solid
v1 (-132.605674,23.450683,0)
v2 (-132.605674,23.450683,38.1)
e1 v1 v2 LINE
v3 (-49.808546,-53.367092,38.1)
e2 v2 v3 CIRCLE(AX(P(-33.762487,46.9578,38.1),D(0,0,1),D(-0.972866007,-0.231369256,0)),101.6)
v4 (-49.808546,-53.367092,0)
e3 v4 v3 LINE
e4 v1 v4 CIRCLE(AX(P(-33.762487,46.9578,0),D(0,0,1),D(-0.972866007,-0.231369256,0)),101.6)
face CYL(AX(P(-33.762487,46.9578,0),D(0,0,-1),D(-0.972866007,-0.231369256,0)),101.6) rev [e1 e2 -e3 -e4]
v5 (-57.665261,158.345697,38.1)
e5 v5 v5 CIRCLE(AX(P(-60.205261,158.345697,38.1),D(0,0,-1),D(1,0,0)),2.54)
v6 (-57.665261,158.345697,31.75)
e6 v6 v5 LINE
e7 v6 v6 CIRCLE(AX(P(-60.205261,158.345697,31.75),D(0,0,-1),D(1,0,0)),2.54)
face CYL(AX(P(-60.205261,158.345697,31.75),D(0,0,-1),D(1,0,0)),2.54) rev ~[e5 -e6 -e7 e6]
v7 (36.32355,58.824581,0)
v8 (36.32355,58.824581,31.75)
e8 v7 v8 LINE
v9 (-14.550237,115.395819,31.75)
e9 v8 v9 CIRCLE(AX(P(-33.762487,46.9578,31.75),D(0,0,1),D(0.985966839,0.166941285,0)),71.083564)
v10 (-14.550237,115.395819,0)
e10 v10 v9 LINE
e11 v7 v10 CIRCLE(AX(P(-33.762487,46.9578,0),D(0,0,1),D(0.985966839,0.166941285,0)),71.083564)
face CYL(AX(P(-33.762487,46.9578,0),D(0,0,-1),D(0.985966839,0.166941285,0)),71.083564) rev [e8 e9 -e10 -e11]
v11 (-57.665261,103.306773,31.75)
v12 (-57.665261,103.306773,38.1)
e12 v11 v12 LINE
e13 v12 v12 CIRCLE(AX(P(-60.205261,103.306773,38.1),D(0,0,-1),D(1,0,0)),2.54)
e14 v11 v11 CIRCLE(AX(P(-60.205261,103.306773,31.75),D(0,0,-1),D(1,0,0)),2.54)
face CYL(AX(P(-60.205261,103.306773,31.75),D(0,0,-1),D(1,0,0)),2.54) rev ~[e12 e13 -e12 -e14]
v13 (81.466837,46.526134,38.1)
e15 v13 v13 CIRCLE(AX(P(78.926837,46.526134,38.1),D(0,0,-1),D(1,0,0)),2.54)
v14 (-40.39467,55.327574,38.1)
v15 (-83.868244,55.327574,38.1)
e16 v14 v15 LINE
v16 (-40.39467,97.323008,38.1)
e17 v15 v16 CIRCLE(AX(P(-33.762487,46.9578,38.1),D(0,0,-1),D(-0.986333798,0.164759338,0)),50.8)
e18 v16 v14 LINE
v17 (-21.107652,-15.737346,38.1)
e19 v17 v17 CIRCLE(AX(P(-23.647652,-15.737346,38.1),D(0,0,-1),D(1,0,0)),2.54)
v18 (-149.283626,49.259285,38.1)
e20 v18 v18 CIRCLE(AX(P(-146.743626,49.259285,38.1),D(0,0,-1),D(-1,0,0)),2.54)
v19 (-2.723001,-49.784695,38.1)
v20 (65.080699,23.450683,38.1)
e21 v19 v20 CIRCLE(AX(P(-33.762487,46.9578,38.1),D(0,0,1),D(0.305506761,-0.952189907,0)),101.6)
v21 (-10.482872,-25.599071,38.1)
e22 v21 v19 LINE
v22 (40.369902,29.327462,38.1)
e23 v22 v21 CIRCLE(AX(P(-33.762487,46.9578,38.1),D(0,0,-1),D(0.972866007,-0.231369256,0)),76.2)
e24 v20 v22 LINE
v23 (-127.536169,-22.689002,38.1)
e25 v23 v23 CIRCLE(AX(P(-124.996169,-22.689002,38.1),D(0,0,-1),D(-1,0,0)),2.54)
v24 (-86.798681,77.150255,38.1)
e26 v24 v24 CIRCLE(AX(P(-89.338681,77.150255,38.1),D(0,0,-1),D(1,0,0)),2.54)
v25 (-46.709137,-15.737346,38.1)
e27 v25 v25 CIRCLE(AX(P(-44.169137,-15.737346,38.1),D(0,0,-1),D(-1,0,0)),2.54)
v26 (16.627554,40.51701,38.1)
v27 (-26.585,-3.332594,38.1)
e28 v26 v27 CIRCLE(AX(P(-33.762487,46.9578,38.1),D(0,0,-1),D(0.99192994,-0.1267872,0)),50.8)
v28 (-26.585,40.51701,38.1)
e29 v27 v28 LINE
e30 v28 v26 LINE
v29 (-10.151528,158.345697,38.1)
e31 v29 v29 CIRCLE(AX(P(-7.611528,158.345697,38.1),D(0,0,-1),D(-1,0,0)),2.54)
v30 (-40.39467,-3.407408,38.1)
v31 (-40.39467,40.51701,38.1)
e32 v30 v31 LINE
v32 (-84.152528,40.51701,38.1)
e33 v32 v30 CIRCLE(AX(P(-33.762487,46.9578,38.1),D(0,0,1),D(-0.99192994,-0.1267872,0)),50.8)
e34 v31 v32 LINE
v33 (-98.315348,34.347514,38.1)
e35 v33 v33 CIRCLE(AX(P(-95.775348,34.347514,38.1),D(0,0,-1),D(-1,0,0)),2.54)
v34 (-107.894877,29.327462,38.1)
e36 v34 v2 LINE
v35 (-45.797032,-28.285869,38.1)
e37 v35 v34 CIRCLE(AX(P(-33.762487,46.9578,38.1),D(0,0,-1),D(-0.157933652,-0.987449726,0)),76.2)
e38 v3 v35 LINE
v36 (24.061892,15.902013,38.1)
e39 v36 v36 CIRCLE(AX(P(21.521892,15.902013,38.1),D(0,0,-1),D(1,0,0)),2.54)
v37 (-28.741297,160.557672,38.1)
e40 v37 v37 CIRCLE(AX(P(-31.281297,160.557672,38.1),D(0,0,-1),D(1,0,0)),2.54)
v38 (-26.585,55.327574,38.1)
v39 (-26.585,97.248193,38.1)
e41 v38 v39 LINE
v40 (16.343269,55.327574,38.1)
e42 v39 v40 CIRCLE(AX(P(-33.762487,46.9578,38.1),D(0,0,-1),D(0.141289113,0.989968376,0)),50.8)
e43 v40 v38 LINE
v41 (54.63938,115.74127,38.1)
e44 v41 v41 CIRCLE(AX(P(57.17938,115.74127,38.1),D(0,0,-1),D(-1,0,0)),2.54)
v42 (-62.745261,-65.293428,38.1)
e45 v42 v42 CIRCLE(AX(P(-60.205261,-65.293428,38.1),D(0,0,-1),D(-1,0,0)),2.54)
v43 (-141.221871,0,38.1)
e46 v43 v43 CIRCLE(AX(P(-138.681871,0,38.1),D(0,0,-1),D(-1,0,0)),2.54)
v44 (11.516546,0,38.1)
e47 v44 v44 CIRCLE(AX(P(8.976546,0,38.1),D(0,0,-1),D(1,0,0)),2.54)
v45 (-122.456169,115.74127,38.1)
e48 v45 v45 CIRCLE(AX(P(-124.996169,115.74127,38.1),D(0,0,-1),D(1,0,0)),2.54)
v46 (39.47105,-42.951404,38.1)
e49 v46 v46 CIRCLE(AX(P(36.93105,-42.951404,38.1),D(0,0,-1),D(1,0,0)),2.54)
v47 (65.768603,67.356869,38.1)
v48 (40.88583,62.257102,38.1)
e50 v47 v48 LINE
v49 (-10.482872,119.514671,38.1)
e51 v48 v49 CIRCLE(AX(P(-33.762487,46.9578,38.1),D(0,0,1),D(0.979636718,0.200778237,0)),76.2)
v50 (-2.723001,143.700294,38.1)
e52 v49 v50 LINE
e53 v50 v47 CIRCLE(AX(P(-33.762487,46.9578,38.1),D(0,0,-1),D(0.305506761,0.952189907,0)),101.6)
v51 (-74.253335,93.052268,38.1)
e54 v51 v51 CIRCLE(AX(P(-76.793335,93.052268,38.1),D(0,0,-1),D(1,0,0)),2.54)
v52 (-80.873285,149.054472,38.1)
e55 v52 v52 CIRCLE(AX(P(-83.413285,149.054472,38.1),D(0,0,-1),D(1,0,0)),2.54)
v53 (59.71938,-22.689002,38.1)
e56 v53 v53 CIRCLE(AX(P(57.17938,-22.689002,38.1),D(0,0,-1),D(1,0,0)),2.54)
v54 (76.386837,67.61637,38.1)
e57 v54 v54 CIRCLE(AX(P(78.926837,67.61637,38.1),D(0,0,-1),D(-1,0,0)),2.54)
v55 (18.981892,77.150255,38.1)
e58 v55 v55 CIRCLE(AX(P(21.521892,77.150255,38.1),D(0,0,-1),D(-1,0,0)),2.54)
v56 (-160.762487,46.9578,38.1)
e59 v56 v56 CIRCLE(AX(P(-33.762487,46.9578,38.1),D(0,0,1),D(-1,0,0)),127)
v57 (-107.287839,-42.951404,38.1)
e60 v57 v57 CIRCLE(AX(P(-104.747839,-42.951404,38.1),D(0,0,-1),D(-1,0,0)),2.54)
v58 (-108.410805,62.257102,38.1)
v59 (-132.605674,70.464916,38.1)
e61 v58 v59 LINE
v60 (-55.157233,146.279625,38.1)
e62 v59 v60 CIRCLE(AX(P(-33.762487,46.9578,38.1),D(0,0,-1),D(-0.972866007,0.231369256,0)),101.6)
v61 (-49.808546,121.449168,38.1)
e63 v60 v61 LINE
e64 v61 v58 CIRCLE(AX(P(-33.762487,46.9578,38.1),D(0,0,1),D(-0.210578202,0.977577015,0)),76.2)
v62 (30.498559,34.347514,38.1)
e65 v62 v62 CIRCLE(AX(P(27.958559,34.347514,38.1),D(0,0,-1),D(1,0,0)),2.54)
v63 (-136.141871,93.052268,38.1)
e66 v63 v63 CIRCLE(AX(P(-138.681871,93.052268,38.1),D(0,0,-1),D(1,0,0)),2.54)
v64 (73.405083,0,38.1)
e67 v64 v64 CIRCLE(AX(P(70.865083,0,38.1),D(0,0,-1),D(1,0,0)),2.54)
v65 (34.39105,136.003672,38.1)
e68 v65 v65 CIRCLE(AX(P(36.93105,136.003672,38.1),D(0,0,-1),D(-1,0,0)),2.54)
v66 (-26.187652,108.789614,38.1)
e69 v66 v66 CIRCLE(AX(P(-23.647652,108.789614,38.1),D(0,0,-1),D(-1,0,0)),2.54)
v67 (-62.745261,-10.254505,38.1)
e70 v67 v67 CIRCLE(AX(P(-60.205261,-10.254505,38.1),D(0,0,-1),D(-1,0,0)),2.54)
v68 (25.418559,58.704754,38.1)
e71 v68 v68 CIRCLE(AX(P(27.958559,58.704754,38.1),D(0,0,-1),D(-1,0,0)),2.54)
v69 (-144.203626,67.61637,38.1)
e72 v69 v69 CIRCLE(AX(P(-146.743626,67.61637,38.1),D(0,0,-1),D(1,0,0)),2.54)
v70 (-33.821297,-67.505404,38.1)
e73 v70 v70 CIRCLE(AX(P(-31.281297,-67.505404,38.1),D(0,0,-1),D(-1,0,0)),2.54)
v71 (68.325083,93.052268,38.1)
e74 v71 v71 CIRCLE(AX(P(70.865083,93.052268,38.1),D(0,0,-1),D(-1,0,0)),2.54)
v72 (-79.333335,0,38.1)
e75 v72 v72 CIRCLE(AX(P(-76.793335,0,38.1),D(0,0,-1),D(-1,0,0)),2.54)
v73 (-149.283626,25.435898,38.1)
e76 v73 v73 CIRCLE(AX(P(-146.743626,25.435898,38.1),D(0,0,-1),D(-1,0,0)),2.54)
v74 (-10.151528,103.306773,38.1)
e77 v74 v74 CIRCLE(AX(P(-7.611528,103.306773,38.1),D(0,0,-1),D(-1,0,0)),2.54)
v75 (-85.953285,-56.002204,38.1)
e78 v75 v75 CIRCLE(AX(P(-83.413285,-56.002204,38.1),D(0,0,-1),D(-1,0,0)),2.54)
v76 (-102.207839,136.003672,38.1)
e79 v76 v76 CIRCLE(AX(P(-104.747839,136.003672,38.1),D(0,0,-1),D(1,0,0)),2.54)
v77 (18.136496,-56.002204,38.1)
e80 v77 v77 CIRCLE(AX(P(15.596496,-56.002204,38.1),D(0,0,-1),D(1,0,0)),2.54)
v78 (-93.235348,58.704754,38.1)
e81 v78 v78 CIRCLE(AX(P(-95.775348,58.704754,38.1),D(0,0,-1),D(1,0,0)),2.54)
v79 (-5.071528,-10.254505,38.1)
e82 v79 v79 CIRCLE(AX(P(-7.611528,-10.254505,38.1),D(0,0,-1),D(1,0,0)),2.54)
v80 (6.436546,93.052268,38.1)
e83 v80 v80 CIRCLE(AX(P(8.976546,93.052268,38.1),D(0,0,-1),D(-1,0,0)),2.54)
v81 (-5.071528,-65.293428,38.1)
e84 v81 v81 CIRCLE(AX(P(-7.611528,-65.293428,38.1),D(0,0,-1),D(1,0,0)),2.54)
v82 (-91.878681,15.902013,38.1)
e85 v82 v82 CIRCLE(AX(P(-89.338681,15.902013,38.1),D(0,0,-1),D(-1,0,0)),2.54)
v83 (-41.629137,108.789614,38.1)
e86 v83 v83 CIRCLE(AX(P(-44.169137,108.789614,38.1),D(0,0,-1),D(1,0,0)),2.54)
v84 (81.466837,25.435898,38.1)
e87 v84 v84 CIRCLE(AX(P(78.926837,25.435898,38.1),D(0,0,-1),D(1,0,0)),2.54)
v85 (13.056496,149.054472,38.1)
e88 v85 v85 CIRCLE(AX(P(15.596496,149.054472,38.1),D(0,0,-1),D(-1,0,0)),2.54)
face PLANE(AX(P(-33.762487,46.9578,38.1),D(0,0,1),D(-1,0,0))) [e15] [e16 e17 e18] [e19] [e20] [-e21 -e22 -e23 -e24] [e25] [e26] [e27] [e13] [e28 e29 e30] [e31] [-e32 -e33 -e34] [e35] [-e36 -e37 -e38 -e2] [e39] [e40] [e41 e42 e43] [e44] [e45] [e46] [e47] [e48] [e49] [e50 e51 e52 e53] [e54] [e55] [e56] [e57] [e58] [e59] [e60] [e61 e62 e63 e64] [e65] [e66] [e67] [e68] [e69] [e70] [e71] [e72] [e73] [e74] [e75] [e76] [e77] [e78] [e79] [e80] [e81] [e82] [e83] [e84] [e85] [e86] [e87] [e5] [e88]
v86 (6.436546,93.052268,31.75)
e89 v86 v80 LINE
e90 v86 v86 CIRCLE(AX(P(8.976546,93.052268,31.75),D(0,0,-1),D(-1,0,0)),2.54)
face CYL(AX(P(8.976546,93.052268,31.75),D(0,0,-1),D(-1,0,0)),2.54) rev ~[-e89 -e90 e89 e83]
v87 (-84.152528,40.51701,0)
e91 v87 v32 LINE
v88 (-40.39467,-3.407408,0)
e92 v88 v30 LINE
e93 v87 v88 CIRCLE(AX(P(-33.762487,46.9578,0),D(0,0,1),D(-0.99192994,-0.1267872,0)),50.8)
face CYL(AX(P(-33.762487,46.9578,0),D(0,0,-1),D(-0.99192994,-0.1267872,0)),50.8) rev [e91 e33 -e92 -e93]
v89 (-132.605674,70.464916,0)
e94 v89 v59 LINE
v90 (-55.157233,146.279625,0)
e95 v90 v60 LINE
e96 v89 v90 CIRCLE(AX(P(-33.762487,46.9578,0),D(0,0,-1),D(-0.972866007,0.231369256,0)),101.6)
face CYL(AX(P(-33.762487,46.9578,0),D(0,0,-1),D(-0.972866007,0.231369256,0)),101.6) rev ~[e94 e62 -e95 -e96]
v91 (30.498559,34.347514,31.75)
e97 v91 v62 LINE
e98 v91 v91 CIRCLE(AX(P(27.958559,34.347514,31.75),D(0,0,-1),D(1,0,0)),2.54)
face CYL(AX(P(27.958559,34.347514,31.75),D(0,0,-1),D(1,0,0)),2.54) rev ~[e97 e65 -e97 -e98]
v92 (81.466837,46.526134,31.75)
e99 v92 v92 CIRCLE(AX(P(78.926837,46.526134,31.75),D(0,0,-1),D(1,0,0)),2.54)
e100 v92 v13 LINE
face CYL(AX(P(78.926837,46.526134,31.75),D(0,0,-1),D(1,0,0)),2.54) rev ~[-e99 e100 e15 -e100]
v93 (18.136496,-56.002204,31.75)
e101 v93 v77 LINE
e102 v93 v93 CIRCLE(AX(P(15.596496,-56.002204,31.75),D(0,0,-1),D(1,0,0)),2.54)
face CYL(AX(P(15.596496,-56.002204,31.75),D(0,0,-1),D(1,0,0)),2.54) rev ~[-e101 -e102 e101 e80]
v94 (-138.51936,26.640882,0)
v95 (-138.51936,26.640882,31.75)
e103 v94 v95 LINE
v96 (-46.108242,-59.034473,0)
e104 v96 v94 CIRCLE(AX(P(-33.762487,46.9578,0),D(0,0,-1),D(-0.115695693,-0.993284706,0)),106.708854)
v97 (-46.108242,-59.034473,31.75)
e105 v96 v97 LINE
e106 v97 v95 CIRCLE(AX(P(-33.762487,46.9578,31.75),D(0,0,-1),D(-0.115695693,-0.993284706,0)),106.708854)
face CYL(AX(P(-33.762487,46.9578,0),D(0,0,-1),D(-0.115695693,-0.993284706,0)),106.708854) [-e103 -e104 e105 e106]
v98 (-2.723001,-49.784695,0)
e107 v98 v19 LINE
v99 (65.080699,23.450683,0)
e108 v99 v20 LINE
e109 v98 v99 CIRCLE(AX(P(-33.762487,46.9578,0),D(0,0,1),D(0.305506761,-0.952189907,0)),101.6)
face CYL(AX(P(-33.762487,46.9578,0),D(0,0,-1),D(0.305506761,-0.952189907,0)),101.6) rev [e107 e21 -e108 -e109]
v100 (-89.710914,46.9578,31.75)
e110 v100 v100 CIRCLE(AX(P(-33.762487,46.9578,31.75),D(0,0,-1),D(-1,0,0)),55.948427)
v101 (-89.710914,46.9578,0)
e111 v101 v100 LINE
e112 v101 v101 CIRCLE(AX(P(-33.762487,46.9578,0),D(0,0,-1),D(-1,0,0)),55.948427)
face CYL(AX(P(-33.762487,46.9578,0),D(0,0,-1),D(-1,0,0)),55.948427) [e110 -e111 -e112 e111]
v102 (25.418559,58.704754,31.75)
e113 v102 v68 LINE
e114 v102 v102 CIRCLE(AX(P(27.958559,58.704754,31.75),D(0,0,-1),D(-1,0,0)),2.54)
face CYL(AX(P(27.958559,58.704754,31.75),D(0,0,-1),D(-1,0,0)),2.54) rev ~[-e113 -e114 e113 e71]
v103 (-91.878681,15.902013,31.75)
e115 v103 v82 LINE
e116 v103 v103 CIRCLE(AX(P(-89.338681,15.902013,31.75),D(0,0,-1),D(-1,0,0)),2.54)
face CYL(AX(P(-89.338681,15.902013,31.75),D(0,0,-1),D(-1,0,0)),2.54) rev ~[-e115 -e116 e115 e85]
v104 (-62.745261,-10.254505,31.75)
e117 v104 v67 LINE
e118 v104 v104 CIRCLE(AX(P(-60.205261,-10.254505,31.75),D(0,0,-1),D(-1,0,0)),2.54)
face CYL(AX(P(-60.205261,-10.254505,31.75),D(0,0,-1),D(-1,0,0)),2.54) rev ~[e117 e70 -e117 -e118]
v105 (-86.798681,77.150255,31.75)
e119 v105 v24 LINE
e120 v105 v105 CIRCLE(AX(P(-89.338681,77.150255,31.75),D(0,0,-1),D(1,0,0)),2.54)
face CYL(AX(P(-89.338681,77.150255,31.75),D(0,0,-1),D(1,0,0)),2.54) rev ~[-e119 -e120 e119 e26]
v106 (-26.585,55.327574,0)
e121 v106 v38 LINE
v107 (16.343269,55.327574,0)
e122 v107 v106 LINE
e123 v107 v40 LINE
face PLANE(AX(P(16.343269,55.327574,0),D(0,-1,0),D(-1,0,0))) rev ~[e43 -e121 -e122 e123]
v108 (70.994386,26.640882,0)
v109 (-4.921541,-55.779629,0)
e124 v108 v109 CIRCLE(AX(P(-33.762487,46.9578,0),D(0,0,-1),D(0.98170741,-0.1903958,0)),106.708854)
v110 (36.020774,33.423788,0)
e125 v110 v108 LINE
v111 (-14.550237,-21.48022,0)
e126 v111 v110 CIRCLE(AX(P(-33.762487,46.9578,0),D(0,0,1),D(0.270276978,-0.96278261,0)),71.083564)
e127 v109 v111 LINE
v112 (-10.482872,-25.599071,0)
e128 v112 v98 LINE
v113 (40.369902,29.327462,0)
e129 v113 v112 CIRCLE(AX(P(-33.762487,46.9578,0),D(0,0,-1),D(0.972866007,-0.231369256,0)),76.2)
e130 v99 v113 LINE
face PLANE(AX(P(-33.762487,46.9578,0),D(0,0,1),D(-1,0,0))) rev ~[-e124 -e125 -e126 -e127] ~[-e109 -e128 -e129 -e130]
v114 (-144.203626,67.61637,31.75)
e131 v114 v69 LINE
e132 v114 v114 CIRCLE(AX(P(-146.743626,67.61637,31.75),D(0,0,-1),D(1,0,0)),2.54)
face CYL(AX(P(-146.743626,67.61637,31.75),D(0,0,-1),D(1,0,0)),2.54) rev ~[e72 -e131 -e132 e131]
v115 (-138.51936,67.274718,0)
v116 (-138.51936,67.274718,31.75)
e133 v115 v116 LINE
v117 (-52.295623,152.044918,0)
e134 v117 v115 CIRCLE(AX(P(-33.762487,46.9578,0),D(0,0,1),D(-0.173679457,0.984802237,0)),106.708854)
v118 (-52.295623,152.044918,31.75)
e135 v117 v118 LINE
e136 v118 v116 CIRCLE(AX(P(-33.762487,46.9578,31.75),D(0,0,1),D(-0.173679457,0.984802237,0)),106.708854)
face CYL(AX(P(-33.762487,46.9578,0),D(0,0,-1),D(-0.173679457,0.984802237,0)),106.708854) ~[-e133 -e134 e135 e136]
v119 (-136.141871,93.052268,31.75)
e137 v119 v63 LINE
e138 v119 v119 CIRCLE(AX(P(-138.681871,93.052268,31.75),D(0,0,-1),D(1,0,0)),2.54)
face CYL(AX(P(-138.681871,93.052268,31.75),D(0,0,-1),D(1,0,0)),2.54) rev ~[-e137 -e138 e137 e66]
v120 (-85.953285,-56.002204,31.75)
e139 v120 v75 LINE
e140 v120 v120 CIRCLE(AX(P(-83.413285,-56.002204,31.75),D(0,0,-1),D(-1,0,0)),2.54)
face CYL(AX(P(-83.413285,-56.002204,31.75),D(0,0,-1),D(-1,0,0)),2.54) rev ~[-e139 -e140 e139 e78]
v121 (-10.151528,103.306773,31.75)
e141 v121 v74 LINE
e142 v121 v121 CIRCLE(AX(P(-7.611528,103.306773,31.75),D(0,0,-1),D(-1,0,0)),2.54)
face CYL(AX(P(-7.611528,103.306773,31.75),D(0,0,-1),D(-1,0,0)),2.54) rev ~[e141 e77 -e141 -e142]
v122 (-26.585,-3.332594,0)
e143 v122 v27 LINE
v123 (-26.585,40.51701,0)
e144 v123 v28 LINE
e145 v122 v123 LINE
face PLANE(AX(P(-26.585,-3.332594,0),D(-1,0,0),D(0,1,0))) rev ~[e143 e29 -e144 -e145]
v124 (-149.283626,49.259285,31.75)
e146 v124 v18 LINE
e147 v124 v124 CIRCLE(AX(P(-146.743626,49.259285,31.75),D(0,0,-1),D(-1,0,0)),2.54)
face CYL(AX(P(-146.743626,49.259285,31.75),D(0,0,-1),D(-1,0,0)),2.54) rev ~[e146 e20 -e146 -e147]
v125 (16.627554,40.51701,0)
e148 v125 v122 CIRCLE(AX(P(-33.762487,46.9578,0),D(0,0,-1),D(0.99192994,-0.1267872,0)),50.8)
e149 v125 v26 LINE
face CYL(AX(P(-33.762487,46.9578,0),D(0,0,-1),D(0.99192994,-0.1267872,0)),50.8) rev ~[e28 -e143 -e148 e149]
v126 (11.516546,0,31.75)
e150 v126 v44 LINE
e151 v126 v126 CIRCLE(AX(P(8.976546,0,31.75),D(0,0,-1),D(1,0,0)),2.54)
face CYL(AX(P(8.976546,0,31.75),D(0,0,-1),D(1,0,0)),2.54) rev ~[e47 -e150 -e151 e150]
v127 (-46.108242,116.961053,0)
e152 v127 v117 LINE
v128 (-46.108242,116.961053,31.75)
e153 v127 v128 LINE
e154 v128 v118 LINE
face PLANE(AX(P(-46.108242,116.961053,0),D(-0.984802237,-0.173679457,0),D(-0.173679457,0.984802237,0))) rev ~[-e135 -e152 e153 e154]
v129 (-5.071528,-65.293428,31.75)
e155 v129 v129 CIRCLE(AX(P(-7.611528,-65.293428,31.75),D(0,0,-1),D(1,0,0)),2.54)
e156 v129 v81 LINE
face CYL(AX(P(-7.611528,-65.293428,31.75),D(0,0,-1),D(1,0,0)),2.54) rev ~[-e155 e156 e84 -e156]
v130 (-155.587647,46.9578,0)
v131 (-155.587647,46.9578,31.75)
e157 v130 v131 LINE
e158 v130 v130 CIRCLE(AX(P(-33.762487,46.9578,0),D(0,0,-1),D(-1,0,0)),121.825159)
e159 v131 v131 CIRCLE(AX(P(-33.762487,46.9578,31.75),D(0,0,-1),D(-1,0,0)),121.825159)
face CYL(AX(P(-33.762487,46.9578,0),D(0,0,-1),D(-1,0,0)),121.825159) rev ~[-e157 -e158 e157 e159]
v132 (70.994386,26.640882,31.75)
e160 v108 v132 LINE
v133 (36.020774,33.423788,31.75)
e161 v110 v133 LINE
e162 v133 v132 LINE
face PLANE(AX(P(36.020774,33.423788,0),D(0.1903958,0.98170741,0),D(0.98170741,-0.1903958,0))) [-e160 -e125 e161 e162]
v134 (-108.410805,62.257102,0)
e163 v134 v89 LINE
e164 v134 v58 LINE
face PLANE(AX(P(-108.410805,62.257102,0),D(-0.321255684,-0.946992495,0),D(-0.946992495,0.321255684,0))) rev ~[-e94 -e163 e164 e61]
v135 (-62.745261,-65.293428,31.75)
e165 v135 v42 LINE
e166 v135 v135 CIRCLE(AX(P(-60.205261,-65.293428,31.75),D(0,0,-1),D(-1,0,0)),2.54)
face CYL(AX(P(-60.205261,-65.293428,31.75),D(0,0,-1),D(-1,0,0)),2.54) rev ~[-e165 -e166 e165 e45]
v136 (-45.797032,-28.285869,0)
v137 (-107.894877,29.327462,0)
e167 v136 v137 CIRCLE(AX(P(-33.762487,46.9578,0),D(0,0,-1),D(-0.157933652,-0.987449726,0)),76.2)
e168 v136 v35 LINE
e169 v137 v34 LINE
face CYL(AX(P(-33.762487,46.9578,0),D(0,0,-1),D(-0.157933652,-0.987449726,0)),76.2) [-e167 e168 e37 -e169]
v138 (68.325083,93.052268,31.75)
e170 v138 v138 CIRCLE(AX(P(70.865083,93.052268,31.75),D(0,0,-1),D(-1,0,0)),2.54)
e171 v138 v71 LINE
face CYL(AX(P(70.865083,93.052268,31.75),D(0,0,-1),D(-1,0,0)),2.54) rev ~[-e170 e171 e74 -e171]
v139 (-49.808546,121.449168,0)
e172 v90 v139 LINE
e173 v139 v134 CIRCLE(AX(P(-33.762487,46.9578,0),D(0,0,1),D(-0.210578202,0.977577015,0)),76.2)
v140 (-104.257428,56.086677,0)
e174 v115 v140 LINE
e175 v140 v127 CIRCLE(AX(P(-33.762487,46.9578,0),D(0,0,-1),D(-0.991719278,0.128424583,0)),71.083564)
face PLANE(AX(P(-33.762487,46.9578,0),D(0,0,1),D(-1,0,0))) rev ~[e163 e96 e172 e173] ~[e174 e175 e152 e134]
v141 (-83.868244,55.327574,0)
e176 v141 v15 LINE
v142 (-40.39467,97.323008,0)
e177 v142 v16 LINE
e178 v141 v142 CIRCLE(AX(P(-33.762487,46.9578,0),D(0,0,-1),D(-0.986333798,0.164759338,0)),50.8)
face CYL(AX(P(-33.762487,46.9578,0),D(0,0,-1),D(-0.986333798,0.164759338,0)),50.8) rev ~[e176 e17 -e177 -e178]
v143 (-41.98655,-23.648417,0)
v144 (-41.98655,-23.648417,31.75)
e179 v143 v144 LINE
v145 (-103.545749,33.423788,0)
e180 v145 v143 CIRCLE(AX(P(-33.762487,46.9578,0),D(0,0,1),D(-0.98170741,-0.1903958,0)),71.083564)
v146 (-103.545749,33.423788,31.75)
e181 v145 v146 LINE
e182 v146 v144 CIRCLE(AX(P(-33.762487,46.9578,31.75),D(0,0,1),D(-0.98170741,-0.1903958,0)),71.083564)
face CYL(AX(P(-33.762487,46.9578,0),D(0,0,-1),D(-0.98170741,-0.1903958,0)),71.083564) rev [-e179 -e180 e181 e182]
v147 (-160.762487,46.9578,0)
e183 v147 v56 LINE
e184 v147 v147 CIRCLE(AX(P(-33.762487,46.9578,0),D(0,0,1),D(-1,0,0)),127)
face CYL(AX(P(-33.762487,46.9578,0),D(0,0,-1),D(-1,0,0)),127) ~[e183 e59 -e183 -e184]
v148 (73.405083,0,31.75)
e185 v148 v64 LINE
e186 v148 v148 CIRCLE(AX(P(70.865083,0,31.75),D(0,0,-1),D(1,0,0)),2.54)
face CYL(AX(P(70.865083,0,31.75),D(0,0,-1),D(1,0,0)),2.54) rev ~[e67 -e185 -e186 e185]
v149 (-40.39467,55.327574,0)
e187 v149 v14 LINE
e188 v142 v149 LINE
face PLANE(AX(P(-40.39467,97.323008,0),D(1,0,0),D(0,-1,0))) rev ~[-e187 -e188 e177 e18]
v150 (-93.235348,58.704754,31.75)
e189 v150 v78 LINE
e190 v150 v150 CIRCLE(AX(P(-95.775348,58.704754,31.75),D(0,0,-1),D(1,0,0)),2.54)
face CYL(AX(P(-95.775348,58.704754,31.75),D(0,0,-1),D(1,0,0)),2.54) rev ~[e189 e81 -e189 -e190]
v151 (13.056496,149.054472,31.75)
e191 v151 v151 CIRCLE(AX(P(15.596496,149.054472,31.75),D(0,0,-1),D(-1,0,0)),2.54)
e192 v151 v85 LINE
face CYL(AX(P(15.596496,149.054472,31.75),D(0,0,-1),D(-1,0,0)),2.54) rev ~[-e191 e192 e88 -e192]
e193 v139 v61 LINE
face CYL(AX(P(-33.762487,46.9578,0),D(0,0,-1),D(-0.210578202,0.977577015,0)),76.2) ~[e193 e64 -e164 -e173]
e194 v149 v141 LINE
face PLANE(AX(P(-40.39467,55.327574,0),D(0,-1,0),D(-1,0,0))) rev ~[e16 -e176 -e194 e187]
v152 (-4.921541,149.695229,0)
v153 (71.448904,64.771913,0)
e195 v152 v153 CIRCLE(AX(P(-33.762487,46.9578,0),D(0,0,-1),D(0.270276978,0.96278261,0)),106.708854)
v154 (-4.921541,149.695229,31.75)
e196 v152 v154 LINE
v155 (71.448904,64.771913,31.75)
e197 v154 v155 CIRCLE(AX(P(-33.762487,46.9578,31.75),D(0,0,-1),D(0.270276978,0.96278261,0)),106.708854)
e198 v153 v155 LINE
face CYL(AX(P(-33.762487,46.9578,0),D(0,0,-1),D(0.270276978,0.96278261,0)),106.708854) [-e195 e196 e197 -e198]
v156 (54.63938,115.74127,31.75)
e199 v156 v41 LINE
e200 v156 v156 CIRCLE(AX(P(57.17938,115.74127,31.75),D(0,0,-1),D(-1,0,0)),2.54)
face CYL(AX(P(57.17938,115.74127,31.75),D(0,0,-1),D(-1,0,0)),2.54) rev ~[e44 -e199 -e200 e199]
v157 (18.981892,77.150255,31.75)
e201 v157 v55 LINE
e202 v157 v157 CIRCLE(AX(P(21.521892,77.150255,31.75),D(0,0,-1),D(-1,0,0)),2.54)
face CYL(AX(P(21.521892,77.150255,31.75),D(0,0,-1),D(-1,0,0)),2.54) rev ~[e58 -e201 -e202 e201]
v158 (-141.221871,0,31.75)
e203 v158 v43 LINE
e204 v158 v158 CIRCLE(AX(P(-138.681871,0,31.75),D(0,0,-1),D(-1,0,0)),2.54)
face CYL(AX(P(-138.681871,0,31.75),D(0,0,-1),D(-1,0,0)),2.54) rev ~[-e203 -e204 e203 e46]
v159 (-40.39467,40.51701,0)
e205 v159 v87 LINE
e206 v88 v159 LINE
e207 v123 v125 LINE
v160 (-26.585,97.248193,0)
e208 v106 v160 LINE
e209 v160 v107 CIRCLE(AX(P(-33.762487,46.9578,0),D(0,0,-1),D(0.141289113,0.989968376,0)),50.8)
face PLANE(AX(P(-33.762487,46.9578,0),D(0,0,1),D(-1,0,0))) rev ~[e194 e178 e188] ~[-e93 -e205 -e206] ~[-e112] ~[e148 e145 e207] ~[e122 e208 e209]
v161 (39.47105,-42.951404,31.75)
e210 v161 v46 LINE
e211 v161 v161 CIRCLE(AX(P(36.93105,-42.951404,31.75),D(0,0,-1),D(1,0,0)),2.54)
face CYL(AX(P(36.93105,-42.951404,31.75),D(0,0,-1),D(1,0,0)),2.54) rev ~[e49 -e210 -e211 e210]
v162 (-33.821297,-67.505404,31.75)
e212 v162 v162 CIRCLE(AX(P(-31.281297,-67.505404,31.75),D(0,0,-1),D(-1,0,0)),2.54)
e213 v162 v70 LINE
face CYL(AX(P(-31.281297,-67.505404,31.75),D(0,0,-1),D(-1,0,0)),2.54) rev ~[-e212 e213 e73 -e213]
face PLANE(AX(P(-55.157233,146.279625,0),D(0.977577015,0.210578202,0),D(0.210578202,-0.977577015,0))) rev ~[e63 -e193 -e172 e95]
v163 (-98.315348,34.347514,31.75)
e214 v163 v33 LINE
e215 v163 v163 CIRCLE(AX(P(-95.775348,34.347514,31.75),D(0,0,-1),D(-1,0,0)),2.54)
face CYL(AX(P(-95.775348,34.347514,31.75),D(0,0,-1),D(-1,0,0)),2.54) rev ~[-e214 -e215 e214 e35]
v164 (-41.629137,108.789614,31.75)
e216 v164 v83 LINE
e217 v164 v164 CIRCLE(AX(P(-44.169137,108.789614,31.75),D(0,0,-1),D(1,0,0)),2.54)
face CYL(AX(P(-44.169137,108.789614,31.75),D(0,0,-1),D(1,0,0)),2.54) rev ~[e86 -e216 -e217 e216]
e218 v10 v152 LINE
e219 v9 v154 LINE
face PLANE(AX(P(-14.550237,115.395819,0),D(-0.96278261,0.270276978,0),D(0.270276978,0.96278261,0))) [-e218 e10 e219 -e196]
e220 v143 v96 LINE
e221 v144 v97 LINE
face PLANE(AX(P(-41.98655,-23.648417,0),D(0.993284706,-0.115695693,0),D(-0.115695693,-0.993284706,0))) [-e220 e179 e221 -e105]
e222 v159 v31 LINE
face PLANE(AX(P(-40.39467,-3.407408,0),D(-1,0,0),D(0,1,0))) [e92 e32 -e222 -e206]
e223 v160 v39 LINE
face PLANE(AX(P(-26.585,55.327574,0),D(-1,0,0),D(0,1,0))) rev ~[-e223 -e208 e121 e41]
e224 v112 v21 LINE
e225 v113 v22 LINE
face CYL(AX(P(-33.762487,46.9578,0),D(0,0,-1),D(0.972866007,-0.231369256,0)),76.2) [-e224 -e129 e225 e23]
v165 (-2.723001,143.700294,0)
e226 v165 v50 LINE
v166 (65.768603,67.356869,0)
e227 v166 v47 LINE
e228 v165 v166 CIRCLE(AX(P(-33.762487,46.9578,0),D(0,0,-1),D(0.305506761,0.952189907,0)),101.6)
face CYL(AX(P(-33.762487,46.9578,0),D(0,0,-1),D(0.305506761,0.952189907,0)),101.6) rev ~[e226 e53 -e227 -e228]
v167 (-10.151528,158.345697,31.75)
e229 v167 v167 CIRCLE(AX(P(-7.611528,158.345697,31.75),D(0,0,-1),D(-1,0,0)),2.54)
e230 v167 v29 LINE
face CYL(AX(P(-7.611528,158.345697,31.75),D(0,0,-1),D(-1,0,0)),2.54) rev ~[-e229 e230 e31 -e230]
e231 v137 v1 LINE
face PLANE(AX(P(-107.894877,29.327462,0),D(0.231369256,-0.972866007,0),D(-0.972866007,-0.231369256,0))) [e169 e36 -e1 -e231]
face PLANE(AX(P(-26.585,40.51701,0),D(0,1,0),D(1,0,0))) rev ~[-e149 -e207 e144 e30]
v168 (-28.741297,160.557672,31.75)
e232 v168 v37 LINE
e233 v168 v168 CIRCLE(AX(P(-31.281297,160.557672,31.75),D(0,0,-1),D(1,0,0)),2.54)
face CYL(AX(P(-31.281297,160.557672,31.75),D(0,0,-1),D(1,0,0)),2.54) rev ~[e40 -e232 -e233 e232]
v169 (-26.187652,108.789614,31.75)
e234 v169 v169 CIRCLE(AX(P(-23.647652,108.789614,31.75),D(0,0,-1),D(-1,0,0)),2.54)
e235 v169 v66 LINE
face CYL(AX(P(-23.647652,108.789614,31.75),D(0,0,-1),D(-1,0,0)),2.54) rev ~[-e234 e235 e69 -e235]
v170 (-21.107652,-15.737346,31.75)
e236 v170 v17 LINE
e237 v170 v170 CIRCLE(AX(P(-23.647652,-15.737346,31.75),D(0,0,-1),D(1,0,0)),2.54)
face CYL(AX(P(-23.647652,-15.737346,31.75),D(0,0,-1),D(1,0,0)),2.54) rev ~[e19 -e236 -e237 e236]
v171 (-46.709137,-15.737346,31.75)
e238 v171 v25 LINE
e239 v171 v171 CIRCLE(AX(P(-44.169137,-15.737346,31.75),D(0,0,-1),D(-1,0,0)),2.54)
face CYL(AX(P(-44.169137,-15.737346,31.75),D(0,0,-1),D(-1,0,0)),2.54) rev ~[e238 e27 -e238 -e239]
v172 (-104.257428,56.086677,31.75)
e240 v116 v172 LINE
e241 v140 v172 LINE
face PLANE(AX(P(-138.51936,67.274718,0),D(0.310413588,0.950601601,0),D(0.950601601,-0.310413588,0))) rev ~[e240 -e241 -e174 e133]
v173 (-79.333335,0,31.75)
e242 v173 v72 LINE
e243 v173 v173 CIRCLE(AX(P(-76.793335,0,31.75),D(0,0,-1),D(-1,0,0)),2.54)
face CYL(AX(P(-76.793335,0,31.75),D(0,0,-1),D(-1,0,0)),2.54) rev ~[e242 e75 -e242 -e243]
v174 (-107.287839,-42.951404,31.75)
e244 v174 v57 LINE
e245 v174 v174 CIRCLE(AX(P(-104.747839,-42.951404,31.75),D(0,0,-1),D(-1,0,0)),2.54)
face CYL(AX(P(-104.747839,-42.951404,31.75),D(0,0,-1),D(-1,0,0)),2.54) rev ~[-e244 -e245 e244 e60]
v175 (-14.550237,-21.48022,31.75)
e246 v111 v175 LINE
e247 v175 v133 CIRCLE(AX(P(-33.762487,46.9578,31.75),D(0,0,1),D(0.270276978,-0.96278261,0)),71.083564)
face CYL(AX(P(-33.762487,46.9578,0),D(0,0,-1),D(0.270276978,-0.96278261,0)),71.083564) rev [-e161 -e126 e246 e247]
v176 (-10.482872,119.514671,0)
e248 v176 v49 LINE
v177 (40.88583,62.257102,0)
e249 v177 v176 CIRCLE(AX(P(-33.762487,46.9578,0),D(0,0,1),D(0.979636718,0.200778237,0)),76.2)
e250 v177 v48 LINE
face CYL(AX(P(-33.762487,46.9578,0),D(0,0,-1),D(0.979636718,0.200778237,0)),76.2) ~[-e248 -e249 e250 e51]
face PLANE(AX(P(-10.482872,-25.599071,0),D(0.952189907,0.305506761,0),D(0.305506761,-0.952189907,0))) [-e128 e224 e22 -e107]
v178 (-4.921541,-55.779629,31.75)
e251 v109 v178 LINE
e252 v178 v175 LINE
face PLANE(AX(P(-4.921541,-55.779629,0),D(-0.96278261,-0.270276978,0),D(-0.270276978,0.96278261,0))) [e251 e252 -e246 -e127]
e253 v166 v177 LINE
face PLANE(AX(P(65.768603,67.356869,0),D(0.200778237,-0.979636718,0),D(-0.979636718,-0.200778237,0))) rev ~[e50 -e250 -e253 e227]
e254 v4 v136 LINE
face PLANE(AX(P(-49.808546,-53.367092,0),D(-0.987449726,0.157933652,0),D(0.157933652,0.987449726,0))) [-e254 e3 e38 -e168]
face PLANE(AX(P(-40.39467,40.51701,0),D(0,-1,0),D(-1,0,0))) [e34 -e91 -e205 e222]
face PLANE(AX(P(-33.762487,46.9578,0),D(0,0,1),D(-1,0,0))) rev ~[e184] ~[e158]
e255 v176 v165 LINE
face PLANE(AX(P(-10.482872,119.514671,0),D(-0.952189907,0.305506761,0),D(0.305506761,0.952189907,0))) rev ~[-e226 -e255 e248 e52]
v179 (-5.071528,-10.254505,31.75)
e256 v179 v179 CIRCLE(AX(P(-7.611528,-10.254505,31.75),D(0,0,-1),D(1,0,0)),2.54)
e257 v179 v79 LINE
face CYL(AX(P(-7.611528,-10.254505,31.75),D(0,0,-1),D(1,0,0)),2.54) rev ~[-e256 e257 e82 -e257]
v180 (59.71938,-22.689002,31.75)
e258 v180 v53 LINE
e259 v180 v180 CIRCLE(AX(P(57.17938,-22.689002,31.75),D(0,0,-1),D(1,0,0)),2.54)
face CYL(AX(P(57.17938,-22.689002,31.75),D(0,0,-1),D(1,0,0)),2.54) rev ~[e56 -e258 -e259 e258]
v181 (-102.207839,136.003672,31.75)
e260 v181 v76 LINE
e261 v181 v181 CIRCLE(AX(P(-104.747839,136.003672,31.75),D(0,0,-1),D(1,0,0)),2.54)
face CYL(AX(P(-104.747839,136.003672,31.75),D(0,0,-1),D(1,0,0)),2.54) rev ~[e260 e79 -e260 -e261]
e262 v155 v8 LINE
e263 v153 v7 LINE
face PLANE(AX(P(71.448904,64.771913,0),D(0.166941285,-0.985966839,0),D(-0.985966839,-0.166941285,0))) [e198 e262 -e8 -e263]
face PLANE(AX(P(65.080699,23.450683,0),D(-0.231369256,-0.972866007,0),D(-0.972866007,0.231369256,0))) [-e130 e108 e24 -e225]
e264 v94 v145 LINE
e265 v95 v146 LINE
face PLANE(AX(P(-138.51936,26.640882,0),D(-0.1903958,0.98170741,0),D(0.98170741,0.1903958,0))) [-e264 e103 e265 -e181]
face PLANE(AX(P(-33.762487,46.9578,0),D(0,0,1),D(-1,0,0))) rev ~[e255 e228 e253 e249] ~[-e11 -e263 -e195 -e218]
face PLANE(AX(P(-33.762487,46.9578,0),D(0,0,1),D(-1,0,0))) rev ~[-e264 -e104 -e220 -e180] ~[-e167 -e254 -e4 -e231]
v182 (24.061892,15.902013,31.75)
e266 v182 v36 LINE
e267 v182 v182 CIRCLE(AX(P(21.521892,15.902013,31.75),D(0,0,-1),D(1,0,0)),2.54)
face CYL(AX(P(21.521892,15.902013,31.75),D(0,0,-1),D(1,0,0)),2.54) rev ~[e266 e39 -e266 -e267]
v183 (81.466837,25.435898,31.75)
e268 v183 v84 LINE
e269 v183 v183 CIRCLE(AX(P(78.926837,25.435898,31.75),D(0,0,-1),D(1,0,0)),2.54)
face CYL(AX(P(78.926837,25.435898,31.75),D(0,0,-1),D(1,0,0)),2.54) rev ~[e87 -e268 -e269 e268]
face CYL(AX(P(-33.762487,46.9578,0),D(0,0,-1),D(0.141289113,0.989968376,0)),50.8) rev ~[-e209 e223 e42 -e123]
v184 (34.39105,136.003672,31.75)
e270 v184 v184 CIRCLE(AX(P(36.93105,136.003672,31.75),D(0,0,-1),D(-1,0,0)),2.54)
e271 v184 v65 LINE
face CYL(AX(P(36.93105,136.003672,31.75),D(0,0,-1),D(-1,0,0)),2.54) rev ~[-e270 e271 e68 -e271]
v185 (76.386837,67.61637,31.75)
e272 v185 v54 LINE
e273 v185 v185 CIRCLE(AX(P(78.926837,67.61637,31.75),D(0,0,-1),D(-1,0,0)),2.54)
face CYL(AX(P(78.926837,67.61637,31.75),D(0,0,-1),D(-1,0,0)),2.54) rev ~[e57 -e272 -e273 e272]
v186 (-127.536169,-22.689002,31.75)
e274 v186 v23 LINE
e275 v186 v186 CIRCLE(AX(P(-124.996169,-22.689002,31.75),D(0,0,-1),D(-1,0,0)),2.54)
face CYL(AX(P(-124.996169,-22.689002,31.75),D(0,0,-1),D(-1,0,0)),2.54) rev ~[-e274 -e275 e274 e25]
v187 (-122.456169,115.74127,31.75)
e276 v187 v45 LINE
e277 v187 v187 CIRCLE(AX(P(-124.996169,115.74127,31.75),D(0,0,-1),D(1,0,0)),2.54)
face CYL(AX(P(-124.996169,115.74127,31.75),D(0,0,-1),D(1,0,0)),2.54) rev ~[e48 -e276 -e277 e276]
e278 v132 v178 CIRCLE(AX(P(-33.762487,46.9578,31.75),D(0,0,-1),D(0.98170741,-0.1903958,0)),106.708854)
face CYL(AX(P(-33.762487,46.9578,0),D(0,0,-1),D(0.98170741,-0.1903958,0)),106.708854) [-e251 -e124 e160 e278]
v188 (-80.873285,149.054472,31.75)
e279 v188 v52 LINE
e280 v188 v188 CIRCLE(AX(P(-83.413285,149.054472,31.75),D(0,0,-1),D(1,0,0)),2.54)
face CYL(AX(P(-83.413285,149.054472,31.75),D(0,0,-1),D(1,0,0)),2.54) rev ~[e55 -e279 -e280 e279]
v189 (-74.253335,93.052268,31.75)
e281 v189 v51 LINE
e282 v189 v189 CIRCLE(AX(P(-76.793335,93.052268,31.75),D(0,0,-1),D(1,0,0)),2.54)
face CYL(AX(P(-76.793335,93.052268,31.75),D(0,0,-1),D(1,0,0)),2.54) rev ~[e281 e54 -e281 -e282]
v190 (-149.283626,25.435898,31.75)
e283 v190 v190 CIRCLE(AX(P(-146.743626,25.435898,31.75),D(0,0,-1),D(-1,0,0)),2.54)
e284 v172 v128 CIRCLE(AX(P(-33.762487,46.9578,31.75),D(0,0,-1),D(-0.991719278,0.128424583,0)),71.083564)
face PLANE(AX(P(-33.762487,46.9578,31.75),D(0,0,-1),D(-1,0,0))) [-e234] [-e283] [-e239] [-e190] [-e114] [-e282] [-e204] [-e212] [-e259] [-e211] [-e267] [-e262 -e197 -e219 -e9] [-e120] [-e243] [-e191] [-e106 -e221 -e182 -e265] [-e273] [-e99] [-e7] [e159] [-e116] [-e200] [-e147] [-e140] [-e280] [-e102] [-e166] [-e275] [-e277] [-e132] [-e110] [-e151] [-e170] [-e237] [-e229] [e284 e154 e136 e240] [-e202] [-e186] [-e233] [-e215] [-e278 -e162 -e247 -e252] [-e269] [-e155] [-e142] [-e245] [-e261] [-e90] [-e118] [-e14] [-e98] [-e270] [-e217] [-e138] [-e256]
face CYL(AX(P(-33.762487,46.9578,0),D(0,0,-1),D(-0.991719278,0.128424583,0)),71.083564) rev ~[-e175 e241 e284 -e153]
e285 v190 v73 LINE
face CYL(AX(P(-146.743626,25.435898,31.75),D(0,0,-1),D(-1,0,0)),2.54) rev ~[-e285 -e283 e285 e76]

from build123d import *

# Parameters (mm, degrees)
SKETCH1_R           = 127
BOSS_EXTRUDE1_DEPTH = 38.1
SKETCH2_R           = 121.825159098
SKETCH2_R_2         = 55.948426771
CUT_EXTRUDE1_DEPTH  = 31.75
SKETCH4_R           = 2.54
CUT_EXTRUDE3_DEPTH  = 25.4


with BuildPart() as part:
    # Sketch1 → Boss-Extrude1 (new body)
    with BuildSketch(Plane.XY):
        with Locations(Location((-33.762487444, 46.957799842, 0), (0, 0, 180))):
            Circle(SKETCH1_R)
        with BuildLine():
            Line((-26.585000486, -3.332593683), (-26.585000486, 40.517010102))
            Line((-26.585000486, 40.517010102), (16.627553511, 40.517010102))
            ThreePointArc((16.627553511, 40.517010102), (2.420409144, 11.300570639), (-26.585000486, -3.332593683))
        make_face(mode=Mode.SUBTRACT)
        with BuildLine():
            Line((-40.39467032, -3.407407894), (-40.39467032, 40.517010102))
            Line((-40.39467032, 40.517010102), (-84.1525284, 40.517010102))
            ThreePointArc((-84.1525284, 40.517010102), (-69.751682027, 11.105075075), (-40.39467032, -3.407407894))
        make_face(mode=Mode.SUBTRACT)
        with BuildLine():
            Line((65.080698845, 23.450683386), (40.369902273, 29.3274625))
            ThreePointArc((40.369902273, 29.3274625), (22.152677736, -4.81028205), (-10.482872263, -25.599071073))
            Line((-10.482872263, -25.599071073), (-2.723000536, -49.784694711))
            ThreePointArc((-2.723000536, -49.784694711), (40.79106613, -22.066309347), (65.080698845, 23.450683386))
        make_face(mode=Mode.SUBTRACT)
        with BuildLine():
            Line((65.768603115, 67.356868745), (40.885830475, 62.25710152))
            ThreePointArc((40.885830475, 62.25710152), (22.956797892, 97.843580478), (-10.482872263, 119.514670757))
            Line((-10.482872263, 119.514670757), (-2.723000536, 143.700294396))
            ThreePointArc((-2.723000536, 143.700294396), (41.863226338, 114.805507356), (65.768603115, 67.356868745))
        make_face(mode=Mode.SUBTRACT)
        with BuildLine():
            Line((-107.894877162, 29.3274625), (-132.605673734, 23.450683386))
            ThreePointArc((-132.605673734, 23.450683386), (-102.864783632, -27.523289446), (-49.80854646, -53.367092333))
            Line((-49.80854646, -53.367092333), (-45.797031706, -28.28586929))
            ThreePointArc((-45.797031706, -28.28586929), (-85.589209585, -8.903017124), (-107.894877162, 29.3274625))
        make_face(mode=Mode.SUBTRACT)
        with BuildLine():
            Line((16.34326948, 55.327574216), (-26.585000486, 55.327574216))
            Line((-26.585000486, 55.327574216), (-26.585000486, 97.248193368))
            ThreePointArc((-26.585000486, 97.248193368), (1.729442412, 83.302853358), (16.34326948, 55.327574216))
        make_face(mode=Mode.SUBTRACT)
        with BuildLine():
            Line((-108.410805364, 62.25710152), (-132.605673734, 70.464916298))
            ThreePointArc((-132.605673734, 70.464916298), (-104.834687001, 119.561535628), (-55.157232799, 146.27962459))
            Line((-55.157232799, 146.27962459), (-49.80854646, 121.449168403))
            ThreePointArc((-49.80854646, 121.449168403), (-87.913135616, 100.568874282), (-108.410805364, 62.25710152))
        make_face(mode=Mode.SUBTRACT)
        with BuildLine():
            Line((-40.39467032, 55.327574216), (-83.868244368, 55.327574216))
            ThreePointArc((-83.868244368, 55.327574216), (-69.056999185, 83.494595556), (-40.39467032, 97.323007578))
            Line((-40.39467032, 97.323007578), (-40.39467032, 55.327574216))
        make_face(mode=Mode.SUBTRACT)
    extrude(amount=BOSS_EXTRUDE1_DEPTH)

    # Sketch2 → Cut-Extrude1 (cut)
    with BuildSketch(Plane(origin=(0, 0, 0), x_dir=(-1, 0, 0), z_dir=(0, 0, -1))):
        with Locations((33.762487444, 46.957799842)):
            Circle(SKETCH2_R)
        with Locations((33.762487444, 46.957799842)):
            Circle(SKETCH2_R_2, mode=Mode.SUBTRACT)
        with BuildLine():
            Line((138.519360461, 26.640882165), (103.545749119, 33.423787783))
            ThreePointArc((103.545749119, 33.423787783), (82.09047925, -5.169719765), (41.986549655, -23.648417258))
            Line((41.986549655, -23.648417258), (46.108242286, -59.03447311))
            ThreePointArc((46.108242286, -59.03447311), (106.311250274, -31.294718328), (138.519360461, 26.640882165))
        make_face(mode=Mode.SUBTRACT)
        with BuildLine():
            Line((138.519360461, 67.274717519), (104.257428362, 56.086676957))
            ThreePointArc((104.257428362, 56.086676957), (85.1635344, 96.057753653), (46.108242286, 116.961052837))
            Line((46.108242286, 116.961052837), (52.295623345, 152.044918281))
            ThreePointArc((52.295623345, 152.044918281), (108.572936641, 123.051007681), (138.519360461, 67.274717519))
        make_face(mode=Mode.SUBTRACT)
        with BuildLine():
            Line((4.921540725, -55.779629464), (14.550236506, -21.480219608))
            ThreePointArc((14.550236506, -21.480219608), (-18.521954058, -1.200379828), (-36.02077423, 33.423787783))
            Line((-36.02077423, 33.423787783), (-70.994385572, 26.640882165))
            ThreePointArc((-70.994385572, 26.640882165), (-44.725597918, -25.336045292), (4.921540725, -55.779629464))
        make_face(mode=Mode.SUBTRACT)
        with BuildLine():
            Line((-71.448904325, 64.771913071), (-36.323549601, 58.824581363))
            ThreePointArc((-36.323549601, 58.824581363), (-19.092240815, 94.489376641), (14.550236506, 115.395819293))
            Line((14.550236506, 115.395819293), (4.921540725, 149.695229149))
            ThreePointArc((4.921540725, 149.695229149), (-45.58169802, 118.311004544), (-71.448904325, 64.771913071))
        make_face(mode=Mode.SUBTRACT)
    extrude(amount=-CUT_EXTRUDE1_DEPTH, mode=Mode.SUBTRACT)

    # Sketch4 → Cut-Extrude3 (cut)
    with BuildSketch(Plane(origin=(0, 0, 31.75), x_dir=(-1, 0, 0), z_dir=(0, 0, -1))):
        with Locations((31.281297081, -67.505404389)):
            Circle(SKETCH4_R)
        with Locations((60.205260923, -65.29342847)):
            Circle(SKETCH4_R)
        with Locations((83.413284725, -56.002203895)):
            Circle(SKETCH4_R)
        with Locations((104.747838674, -42.951403951)):
            Circle(SKETCH4_R)
        with Locations((124.996169025, -22.689001677)):
            Circle(SKETCH4_R)
        with Locations((138.681871495, 0)):
            Circle(SKETCH4_R)
        with Locations((146.743625587, 25.43589811)):
            Circle(SKETCH4_R)
        with Locations((146.743625587, 49.259285421)):
            Circle(SKETCH4_R)
        with Locations(Location((-27.958558869, 34.347513636, 0), (0, 0, 180))):
            Circle(SKETCH4_R)
        with Locations((44.169136825, -15.737345855)):
            Circle(SKETCH4_R)
        with Locations((60.205260923, -10.25450455)):
            Circle(SKETCH4_R)
        with Locations((76.793334998, 0)):
            Circle(SKETCH4_R)
        with Locations((89.338680519, 15.902012931)):
            Circle(SKETCH4_R)
        with Locations((95.775347578, 34.347513636)):
            Circle(SKETCH4_R)
        with Locations(Location((-21.52189181, 15.902012931, 0), (0, 0, 180))):
            Circle(SKETCH4_R)
        with Locations(Location((-8.976546288, 0, 0), (0, 0, 180))):
            Circle(SKETCH4_R)
        with Locations(Location((7.611527786, -10.25450455, 0), (0, 0, 180))):
            Circle(SKETCH4_R)
        with Locations(Location((23.647651884, -15.737345855, 0), (0, 0, 180))):
            Circle(SKETCH4_R)
        with Locations(Location((-78.926836877, 46.526134027, 0), (0, 0, 180))):
            Circle(SKETCH4_R)
        with Locations(Location((-78.926836877, 25.43589811, 0), (0, 0, 180))):
            Circle(SKETCH4_R)
        with Locations(Location((-70.865082786, 0, 0), (0, 0, 180))):
            Circle(SKETCH4_R)
        with Locations(Location((-57.179380316, -22.689001677, 0), (0, 0, 180))):
            Circle(SKETCH4_R)
        with Locations(Location((-36.931049965, -42.951403951, 0), (0, 0, 180))):
            Circle(SKETCH4_R)
        with Locations(Location((-15.596496015, -56.002203895, 0), (0, 0, 180))):
            Circle(SKETCH4_R)
        with Locations(Location((7.611527786, -65.29342847, 0), (0, 0, 180))):
            Circle(SKETCH4_R)
        with Locations(Location((95.775347578, 58.704754417, 0), (0, 0, 180))):
            Circle(SKETCH4_R)
        with Locations((-27.958558869, 58.704754417)):
            Circle(SKETCH4_R)
        with Locations((-78.926836877, 67.616369944)):
            Circle(SKETCH4_R)
        with Locations((7.611527786, 158.345696523)):
            Circle(SKETCH4_R)
        with Locations((-15.596496015, 149.054471948)):
            Circle(SKETCH4_R)
        with Locations((-36.931049965, 136.003672004)):
            Circle(SKETCH4_R)
        with Locations((-57.179380316, 115.74126973)):
            Circle(SKETCH4_R)
        with Locations((-70.865082786, 93.052268053)):
            Circle(SKETCH4_R)
        with Locations((23.647651884, 108.789613908)):
            Circle(SKETCH4_R)
        with Locations((7.611527786, 103.306772603)):
            Circle(SKETCH4_R)
        with Locations((-8.976546288, 93.052268053)):
            Circle(SKETCH4_R)
        with Locations((-21.52189181, 77.150255122)):
            Circle(SKETCH4_R)
        with Locations(Location((89.338680519, 77.150255122, 0), (0, 0, 180))):
            Circle(SKETCH4_R)
        with Locations(Location((76.793334998, 93.052268053, 0), (0, 0, 180))):
            Circle(SKETCH4_R)
        with Locations(Location((60.205260923, 103.306772603, 0), (0, 0, 180))):
            Circle(SKETCH4_R)
        with Locations(Location((44.169136825, 108.789613908, 0), (0, 0, 180))):
            Circle(SKETCH4_R)
        with Locations(Location((146.743625587, 67.616369944, 0), (0, 0, 180))):
            Circle(SKETCH4_R)
        with Locations(Location((138.681871495, 93.052268053, 0), (0, 0, 180))):
            Circle(SKETCH4_R)
        with Locations(Location((124.996169025, 115.74126973, 0), (0, 0, 180))):
            Circle(SKETCH4_R)
        with Locations(Location((104.747838674, 136.003672004, 0), (0, 0, 180))):
            Circle(SKETCH4_R)
        with Locations(Location((83.413284725, 149.054471948, 0), (0, 0, 180))):
            Circle(SKETCH4_R)
        with Locations(Location((60.205260923, 158.345696523, 0), (0, 0, 180))):
            Circle(SKETCH4_R)
        with Locations(Location((31.281297081, 160.557672442, 0), (0, 0, 180))):
            Circle(SKETCH4_R)
    extrude(amount=-CUT_EXTRUDE3_DEPTH, mode=Mode.SUBTRACT)


solid = part.part
